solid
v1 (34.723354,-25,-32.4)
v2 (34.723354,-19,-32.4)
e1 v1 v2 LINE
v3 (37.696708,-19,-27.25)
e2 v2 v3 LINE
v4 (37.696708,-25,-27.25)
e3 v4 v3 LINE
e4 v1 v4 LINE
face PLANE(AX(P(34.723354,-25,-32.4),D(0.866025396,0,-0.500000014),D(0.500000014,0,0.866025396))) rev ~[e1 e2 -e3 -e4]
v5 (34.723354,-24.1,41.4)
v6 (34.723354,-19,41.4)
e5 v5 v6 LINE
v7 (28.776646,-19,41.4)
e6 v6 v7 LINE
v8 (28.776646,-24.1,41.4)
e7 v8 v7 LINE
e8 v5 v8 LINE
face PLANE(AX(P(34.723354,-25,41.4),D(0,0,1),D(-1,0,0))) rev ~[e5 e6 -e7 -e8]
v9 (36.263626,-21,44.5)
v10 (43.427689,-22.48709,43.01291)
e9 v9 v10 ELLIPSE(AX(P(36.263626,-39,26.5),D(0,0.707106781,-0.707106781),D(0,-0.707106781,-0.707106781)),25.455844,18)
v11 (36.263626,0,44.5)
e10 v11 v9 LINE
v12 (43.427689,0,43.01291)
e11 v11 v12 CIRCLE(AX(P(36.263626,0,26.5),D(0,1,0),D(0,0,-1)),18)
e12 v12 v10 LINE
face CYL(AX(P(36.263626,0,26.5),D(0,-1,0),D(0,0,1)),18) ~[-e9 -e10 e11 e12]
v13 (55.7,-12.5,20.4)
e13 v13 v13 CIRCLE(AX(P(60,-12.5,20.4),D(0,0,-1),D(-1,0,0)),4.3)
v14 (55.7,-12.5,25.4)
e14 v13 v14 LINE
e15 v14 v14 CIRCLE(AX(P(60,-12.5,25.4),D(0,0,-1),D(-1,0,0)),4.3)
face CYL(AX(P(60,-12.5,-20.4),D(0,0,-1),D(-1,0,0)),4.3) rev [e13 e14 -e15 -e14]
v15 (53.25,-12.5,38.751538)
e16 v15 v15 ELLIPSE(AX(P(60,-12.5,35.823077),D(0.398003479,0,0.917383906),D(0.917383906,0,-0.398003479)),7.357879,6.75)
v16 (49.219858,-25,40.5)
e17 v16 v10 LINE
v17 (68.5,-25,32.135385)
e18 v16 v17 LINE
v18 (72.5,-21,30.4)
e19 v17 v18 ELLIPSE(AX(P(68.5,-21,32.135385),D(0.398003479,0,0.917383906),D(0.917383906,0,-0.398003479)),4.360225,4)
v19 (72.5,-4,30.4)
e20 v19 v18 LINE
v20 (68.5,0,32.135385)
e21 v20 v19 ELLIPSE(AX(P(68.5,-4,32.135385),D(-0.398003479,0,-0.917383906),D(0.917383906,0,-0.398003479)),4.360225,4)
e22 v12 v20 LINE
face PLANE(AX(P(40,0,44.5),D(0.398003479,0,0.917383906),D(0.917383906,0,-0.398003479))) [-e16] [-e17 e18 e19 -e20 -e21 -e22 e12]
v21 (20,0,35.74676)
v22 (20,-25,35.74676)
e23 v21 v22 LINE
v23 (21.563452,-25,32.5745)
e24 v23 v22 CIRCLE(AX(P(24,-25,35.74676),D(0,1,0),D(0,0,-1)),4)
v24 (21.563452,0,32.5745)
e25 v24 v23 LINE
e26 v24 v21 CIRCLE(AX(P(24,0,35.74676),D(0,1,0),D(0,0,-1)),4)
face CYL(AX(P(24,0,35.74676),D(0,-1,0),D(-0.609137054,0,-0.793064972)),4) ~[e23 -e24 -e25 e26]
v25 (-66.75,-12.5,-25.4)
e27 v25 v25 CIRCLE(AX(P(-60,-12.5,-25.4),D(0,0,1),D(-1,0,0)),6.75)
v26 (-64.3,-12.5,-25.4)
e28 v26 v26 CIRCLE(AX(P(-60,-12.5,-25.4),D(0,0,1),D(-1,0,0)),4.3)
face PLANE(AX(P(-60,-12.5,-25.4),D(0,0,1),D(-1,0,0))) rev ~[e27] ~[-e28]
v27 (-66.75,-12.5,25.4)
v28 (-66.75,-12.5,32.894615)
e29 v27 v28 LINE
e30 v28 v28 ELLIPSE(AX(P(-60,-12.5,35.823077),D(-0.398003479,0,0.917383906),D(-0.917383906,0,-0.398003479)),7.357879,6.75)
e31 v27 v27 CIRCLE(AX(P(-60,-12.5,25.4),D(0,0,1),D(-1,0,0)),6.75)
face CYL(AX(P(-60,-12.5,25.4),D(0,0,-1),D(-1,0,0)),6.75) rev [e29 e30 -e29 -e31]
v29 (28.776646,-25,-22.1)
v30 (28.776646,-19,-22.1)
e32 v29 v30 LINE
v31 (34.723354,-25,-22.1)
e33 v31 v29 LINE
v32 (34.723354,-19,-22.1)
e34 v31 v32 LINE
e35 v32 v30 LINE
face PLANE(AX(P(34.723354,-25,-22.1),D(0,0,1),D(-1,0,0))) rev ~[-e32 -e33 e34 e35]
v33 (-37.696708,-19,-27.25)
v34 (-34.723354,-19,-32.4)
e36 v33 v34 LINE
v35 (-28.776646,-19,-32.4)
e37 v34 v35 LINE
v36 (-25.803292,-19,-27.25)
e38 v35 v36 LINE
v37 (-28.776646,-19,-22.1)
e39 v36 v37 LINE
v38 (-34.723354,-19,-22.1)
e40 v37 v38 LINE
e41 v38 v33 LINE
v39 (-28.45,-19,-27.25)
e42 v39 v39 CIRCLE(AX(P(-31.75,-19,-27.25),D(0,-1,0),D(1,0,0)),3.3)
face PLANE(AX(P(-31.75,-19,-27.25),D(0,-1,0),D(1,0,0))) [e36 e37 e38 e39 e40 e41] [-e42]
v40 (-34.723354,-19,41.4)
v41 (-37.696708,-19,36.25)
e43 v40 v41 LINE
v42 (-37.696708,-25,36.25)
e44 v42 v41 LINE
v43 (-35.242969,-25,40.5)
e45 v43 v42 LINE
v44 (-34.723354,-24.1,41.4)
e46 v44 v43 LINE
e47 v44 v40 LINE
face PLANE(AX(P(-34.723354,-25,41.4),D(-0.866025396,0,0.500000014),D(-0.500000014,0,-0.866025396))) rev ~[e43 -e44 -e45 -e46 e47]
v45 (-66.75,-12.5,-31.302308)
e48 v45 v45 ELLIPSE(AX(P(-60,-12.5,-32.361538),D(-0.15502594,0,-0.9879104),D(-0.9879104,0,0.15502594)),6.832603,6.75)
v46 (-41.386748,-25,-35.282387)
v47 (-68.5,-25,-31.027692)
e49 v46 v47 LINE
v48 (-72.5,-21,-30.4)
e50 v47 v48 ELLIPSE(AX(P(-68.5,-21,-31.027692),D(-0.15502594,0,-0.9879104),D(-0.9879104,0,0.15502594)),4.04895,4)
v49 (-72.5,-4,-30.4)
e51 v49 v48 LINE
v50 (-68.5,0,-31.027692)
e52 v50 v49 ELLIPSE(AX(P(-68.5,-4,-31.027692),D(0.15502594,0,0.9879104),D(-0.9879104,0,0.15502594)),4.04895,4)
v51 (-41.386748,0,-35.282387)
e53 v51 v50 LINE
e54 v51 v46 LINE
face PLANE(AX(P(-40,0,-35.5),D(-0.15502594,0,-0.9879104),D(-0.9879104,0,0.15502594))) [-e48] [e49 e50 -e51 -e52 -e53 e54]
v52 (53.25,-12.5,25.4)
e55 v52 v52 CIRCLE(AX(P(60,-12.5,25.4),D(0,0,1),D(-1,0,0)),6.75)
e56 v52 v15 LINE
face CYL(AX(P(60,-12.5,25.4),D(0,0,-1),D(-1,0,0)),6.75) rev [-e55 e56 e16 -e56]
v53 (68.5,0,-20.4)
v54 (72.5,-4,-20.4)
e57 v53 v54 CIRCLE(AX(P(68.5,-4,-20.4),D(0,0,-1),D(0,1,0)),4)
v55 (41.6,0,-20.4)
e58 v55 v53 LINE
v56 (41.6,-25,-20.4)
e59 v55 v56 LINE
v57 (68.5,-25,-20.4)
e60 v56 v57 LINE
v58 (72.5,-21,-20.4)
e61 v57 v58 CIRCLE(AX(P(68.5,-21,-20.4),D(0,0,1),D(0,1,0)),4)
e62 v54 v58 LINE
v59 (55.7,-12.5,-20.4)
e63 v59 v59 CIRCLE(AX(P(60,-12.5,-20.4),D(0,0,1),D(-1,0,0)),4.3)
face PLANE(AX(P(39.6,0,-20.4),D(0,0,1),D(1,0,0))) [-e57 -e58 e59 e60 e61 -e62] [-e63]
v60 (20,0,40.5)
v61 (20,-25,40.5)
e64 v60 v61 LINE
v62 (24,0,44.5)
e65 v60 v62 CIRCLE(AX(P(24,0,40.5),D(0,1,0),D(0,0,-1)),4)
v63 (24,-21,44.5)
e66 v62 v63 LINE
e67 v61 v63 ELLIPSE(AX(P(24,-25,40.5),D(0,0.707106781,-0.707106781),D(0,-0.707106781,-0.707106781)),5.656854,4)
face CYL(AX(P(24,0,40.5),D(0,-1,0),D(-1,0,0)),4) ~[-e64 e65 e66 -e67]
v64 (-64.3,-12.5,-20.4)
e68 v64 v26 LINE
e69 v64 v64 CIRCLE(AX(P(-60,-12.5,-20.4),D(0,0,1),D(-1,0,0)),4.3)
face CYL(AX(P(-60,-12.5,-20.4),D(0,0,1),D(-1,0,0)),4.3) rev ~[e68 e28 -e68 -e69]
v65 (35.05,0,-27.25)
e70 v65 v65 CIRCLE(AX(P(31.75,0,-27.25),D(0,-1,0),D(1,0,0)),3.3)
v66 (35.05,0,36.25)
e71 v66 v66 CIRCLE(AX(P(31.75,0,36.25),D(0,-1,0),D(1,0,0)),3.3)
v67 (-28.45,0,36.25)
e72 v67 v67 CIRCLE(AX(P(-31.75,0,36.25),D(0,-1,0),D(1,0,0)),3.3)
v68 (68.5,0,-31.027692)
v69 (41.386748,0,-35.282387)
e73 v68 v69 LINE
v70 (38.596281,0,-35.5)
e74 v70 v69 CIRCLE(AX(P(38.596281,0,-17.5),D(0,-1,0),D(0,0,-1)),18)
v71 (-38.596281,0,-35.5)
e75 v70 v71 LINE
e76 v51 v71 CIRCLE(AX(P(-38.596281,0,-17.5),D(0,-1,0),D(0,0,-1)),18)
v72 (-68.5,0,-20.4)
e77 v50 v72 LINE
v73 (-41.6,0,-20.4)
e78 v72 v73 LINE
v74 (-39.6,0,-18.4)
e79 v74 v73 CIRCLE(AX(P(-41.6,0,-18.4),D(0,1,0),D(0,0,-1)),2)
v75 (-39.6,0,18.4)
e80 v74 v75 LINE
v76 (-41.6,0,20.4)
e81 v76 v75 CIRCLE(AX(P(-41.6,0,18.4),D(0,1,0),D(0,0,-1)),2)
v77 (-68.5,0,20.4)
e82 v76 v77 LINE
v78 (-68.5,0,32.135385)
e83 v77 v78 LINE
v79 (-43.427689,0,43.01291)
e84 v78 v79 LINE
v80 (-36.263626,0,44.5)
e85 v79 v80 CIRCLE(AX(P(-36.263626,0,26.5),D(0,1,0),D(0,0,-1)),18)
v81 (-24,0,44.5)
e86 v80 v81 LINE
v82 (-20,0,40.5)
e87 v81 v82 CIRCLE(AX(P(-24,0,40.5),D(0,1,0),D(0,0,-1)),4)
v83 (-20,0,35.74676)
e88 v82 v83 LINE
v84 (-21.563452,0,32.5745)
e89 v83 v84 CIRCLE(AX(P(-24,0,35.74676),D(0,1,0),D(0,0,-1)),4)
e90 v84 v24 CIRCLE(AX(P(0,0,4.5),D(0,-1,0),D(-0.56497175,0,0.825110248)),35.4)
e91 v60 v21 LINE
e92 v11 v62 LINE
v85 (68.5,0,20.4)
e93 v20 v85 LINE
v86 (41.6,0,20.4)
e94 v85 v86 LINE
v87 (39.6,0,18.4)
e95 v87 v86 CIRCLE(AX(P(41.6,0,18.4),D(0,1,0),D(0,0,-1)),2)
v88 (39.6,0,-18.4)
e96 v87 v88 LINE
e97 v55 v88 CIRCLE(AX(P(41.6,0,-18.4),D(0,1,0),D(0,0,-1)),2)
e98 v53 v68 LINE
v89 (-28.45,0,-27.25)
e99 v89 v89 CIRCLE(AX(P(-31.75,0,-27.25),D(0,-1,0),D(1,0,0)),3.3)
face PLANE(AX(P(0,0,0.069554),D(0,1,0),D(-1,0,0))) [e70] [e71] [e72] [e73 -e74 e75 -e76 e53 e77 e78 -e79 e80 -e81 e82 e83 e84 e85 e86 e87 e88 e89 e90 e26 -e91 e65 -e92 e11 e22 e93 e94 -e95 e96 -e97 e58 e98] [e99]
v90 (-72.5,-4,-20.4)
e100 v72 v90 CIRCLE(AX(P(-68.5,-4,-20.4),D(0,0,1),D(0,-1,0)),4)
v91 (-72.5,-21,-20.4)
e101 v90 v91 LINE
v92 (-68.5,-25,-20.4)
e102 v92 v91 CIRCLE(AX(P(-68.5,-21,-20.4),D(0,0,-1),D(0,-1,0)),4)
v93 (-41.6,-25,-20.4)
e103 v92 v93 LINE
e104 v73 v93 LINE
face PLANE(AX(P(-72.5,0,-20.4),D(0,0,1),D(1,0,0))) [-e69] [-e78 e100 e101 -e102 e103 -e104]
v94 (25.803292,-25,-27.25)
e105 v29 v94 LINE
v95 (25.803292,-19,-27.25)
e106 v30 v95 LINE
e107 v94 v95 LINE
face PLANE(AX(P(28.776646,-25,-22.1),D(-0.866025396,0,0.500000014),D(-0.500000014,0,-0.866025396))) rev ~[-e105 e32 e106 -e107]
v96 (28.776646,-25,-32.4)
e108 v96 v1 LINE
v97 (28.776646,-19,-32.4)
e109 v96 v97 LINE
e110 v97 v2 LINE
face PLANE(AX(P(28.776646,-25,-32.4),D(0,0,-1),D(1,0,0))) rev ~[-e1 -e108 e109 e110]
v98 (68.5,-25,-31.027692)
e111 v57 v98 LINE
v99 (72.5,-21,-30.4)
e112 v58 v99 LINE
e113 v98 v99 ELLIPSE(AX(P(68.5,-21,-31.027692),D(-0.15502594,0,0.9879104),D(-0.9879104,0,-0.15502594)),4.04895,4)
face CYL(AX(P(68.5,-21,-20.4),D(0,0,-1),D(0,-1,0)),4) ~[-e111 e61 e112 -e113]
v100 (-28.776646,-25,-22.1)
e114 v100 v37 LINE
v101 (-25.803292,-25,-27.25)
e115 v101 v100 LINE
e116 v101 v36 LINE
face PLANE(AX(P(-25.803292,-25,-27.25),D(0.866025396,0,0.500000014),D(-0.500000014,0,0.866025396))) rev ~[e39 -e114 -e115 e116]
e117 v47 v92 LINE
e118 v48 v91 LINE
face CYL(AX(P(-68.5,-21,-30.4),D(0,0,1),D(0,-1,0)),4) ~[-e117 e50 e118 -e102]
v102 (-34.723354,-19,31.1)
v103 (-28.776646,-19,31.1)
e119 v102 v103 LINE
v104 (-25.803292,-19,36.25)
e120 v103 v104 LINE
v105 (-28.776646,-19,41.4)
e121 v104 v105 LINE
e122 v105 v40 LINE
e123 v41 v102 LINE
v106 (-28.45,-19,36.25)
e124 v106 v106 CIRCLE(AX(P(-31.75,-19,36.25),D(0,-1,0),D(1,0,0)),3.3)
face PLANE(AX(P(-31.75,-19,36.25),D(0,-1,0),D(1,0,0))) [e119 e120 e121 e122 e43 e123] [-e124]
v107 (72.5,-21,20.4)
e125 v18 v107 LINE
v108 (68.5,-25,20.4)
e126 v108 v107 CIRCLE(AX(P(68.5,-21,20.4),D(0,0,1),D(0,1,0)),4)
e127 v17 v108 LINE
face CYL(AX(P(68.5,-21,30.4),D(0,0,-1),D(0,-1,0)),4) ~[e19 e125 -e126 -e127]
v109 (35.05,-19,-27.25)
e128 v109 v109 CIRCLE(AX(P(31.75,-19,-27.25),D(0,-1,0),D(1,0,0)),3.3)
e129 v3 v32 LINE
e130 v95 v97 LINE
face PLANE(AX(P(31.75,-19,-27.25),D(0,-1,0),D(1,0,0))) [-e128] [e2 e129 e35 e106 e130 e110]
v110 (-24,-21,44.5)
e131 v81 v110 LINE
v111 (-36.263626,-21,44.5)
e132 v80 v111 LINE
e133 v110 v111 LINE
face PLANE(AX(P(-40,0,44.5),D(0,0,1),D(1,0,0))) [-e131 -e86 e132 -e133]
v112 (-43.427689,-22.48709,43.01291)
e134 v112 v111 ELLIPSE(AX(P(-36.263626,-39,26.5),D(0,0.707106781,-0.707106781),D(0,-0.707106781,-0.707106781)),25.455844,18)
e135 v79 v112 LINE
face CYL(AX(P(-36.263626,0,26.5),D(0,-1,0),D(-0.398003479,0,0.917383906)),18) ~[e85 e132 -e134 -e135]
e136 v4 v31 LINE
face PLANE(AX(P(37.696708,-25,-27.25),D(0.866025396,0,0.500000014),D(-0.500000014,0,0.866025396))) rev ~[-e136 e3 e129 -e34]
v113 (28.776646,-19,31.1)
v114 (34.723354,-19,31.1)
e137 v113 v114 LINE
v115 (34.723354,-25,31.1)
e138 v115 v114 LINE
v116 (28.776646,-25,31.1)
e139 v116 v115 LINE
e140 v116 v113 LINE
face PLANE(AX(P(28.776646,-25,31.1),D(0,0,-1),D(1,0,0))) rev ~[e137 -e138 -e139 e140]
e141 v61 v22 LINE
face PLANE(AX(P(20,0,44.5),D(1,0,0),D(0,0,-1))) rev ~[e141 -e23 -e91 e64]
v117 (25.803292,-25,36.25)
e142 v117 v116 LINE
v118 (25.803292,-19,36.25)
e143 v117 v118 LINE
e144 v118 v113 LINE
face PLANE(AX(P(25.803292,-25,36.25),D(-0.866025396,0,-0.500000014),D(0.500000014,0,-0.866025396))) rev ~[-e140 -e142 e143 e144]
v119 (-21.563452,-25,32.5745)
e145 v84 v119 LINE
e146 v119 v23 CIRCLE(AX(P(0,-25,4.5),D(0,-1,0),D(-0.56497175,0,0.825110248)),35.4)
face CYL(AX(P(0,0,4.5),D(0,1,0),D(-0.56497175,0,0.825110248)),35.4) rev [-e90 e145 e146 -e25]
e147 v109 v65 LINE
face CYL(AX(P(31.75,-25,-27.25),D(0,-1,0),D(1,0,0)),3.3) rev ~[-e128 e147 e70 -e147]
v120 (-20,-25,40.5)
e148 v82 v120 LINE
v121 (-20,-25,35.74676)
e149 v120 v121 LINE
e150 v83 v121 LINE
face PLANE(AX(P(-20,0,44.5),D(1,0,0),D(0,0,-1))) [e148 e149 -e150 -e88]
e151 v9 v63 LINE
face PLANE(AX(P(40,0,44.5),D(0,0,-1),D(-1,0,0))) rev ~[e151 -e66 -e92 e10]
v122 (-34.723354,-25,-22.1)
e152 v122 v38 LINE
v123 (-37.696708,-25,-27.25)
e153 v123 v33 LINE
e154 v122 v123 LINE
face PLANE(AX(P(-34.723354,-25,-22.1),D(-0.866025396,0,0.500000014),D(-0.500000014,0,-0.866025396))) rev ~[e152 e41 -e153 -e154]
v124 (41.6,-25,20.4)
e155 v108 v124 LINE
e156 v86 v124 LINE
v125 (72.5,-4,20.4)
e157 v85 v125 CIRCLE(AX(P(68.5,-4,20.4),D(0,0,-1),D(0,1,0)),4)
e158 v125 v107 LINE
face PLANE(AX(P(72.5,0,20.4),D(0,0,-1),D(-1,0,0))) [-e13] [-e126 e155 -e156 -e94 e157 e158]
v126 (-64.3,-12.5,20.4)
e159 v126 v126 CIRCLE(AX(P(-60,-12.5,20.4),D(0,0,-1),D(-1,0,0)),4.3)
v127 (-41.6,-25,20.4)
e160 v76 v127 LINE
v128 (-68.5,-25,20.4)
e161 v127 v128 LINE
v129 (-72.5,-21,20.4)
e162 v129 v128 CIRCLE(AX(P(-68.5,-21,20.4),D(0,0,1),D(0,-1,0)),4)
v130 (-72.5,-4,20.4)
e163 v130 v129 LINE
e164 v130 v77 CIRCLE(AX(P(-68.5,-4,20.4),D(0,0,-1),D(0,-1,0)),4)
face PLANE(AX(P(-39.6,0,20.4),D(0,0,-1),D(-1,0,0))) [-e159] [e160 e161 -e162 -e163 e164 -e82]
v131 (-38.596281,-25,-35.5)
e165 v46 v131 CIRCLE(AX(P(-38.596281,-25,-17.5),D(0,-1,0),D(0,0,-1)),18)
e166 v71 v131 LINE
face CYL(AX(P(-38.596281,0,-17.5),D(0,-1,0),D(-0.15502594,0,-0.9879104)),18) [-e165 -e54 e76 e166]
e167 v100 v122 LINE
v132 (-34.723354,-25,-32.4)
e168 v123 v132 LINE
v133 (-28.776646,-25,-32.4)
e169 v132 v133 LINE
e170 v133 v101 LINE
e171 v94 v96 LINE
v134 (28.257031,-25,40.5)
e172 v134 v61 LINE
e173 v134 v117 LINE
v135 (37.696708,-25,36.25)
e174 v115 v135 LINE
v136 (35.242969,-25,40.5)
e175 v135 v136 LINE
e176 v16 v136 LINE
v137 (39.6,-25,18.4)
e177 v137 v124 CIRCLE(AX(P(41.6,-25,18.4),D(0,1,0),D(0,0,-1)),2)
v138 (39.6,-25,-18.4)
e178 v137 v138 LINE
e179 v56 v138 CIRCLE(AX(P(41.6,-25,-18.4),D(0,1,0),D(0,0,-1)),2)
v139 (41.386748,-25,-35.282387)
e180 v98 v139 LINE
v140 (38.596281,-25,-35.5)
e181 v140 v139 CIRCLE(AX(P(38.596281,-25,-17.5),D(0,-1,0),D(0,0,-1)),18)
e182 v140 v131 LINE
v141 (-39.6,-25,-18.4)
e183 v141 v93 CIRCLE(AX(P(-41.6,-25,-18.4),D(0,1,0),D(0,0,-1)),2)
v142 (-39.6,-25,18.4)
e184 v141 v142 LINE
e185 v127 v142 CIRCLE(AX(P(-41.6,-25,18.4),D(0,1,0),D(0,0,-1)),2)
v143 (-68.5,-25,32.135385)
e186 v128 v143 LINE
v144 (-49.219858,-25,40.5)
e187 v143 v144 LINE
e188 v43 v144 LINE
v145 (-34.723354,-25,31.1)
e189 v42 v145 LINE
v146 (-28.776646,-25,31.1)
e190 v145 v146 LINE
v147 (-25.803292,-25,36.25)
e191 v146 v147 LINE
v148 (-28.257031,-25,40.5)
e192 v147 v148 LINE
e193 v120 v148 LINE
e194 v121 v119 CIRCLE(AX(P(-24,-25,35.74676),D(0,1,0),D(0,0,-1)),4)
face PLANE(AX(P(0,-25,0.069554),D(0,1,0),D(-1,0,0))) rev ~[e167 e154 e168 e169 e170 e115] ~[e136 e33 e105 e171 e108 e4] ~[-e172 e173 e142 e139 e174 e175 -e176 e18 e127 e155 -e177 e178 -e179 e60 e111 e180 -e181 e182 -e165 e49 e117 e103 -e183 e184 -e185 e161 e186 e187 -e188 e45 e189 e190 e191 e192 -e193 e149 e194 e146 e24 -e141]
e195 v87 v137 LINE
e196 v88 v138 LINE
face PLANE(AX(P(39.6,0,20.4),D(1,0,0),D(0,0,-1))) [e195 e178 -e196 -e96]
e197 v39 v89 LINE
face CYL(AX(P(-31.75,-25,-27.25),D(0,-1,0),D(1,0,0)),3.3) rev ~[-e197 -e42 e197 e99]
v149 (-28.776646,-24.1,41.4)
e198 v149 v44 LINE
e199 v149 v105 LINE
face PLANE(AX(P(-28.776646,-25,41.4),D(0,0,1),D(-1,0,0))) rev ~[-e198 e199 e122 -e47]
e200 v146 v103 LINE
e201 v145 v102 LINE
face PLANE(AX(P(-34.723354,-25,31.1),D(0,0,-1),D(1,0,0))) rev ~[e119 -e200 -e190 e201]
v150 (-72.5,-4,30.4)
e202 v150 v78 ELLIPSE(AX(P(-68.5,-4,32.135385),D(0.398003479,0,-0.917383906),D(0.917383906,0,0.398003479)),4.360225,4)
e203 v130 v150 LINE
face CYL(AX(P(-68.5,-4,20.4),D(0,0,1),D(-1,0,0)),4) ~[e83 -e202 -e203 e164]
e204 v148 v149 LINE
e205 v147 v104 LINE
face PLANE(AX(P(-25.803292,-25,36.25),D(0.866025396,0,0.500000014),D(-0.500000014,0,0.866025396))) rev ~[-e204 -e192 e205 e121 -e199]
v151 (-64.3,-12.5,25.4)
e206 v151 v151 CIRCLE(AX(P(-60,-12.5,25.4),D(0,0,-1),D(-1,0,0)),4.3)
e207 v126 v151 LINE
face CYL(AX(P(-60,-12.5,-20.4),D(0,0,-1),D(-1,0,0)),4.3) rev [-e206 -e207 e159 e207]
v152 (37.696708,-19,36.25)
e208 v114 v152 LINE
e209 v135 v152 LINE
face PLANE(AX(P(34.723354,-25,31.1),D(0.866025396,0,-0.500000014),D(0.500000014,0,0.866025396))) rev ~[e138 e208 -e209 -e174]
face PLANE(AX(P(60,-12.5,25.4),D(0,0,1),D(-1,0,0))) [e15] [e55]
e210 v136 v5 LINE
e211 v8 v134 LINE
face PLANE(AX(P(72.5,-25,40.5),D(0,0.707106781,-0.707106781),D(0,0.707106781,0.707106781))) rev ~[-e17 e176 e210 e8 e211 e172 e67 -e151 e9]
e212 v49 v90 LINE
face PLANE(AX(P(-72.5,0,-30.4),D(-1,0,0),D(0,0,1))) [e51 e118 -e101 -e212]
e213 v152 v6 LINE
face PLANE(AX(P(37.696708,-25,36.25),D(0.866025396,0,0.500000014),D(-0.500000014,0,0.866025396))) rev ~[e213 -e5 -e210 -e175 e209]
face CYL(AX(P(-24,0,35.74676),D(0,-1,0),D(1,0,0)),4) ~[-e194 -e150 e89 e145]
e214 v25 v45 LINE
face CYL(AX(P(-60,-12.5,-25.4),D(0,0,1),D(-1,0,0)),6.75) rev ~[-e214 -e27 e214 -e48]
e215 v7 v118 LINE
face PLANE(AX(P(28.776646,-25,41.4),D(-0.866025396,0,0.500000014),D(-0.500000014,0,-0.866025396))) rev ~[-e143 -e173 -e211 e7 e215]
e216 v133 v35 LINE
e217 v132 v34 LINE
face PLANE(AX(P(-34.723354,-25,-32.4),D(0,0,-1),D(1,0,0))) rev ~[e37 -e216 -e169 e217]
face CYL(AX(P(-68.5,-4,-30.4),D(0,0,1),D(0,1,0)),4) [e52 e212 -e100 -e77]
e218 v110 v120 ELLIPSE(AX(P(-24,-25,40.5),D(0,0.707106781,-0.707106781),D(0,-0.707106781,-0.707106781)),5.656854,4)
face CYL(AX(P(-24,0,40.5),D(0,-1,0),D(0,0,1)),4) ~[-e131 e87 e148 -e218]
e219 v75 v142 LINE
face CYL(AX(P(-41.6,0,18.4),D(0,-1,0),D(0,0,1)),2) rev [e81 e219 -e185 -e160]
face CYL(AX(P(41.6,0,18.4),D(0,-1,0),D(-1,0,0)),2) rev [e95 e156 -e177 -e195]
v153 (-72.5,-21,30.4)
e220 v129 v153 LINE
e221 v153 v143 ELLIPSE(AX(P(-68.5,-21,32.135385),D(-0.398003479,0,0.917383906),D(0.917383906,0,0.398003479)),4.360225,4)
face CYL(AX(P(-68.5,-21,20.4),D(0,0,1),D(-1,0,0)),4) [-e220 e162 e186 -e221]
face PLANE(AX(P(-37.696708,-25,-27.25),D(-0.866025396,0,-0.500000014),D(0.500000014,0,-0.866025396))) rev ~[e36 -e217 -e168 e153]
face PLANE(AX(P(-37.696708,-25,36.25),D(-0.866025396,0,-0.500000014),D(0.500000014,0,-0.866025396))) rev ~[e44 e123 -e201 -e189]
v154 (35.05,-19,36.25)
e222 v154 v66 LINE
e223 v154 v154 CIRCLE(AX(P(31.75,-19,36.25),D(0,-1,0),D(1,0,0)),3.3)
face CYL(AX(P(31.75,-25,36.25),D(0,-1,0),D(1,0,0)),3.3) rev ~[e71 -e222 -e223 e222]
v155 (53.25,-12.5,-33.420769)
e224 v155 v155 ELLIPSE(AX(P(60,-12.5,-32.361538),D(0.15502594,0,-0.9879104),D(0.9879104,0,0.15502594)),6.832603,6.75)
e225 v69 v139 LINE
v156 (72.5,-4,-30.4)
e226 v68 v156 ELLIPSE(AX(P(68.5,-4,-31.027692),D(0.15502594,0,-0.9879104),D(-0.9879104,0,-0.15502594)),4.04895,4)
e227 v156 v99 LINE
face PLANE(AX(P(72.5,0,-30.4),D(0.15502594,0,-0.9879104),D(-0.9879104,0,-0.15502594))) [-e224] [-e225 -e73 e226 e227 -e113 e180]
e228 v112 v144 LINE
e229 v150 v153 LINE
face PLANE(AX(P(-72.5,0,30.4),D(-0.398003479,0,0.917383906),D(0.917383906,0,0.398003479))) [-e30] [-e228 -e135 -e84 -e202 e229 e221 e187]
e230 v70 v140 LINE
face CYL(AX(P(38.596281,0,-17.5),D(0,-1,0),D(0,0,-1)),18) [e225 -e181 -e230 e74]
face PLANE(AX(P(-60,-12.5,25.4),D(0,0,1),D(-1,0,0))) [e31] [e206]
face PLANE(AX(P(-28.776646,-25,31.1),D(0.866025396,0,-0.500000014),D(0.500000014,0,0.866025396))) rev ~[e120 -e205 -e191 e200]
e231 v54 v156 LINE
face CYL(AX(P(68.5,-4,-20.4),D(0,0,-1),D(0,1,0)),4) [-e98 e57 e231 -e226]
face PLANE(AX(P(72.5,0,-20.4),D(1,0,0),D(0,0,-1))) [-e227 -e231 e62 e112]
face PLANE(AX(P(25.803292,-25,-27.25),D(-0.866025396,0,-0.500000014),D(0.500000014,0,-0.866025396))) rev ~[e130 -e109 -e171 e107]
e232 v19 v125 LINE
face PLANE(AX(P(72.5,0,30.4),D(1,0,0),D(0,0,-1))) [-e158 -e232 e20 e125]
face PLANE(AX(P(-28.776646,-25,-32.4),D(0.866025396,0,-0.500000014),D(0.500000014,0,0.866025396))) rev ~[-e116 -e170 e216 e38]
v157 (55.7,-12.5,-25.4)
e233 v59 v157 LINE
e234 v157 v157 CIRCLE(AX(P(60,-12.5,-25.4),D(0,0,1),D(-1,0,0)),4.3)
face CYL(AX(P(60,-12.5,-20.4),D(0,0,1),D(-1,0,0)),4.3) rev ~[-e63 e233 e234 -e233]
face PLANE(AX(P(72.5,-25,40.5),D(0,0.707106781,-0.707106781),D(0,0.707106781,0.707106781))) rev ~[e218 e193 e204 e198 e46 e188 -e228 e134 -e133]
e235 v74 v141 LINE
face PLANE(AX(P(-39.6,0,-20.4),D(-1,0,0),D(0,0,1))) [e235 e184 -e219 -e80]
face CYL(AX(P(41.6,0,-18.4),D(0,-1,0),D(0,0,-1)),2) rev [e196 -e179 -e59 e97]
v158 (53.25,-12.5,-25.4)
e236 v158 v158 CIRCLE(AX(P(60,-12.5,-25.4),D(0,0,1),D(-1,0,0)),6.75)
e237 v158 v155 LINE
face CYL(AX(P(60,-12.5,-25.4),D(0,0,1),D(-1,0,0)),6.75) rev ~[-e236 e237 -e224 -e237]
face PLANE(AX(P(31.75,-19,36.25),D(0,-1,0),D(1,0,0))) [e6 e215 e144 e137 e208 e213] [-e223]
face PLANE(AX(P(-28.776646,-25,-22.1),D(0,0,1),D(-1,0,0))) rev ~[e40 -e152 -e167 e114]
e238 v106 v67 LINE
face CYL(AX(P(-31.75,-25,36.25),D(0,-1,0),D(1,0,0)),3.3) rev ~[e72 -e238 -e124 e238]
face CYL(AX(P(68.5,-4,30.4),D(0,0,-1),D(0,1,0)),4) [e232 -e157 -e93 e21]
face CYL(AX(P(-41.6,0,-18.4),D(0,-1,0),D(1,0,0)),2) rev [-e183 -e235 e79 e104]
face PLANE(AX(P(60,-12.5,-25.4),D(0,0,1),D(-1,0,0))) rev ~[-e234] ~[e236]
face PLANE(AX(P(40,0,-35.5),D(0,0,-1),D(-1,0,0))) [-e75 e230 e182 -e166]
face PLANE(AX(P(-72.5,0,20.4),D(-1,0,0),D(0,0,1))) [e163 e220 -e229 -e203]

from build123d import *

# Parameters (mm, degrees)
PAD_DEPTH         = 25
SKETCH001_R       = 4.3
POCKET_DEPTH      = 100
POCKET_DEPTH_BACK = -100
SKETCH002_R       = 6.75
POCKET001_DEPTH   = 10.101
SKETCH003_R       = 6.75
POCKET002_DEPTH   = 19.101
SKETCH004_R       = 3.3
POCKET003_DEPTH   = 25.001
POCKET004_DEPTH   = 6
FILLET_R          = 4
FILLET001_R       = 2
FILLET002_R       = 18
FILLET003_R       = 4
POCKET005_DEPTH   = 145.001


with BuildPart() as part:
    # Sketch → Pad (new body)
    with BuildSketch(Plane.XZ):
        with BuildLine():
            Line((-72.5, 20.4), (-72.5, 30.4))
            Line((-72.5, 30.4), (-40, 44.5))
            Line((-40, 44.5), (-20, 44.5))
            Line((-20, 44.5), (-20, 33.708903))
            ThreePointArc((-20, 33.708903), (0, -30.9), (20, 33.708903))
            Line((20, 44.5), (20, 33.708903))
            Line((40, 44.5), (20, 44.5))
            Line((40, 44.5), (72.5, 30.4))
            Line((72.5, 30.4), (72.5, 20.4))
            Line((72.5, 20.4), (39.6, 20.4))
            Line((39.6, 20.4), (39.6, -20.4))
            Line((39.6, -20.4), (72.5, -20.4))
            Line((72.5, -20.4), (72.5, -30.4))
            Line((72.5, -30.4), (40, -35.5))
            Line((40, -35.5), (-40, -35.5))
            Line((-40, -35.5), (-72.5, -30.4))
            Line((-72.5, -30.4), (-72.5, -20.4))
            Line((-72.5, -20.4), (-39.6, -20.4))
            Line((-39.6, -20.4), (-39.6, 20.4))
            Line((-39.6, 20.4), (-72.5, 20.4))
        make_face()
    extrude(amount=PAD_DEPTH)

    # Sketch001 (on Face11 of Pad) → Pocket (cut, two sides)
    with BuildSketch(Plane(origin=(0, 0, -20.4), x_dir=(-1, 0, 0), z_dir=(0, 0, 1))) as pocket_sk:
        with Locations((-60, 12.5)):
            Circle(SKETCH001_R)
        with Locations((60, 12.5)):
            Circle(SKETCH001_R)
    extrude(amount=-POCKET_DEPTH, mode=Mode.SUBTRACT)
    extrude(pocket_sk.sketch, amount=-POCKET_DEPTH_BACK, mode=Mode.SUBTRACT)

    # Sketch002 (on Face16 of Pocket) → Pocket001 (cut, through all)
    with BuildSketch(Plane(origin=(0, 0, -25.4), x_dir=(-1, 0, 0), z_dir=(0, 0, 1))):
        with Locations((-60, 12.5)):
            Circle(SKETCH002_R)
        with Locations((60, 12.5)):
            Circle(SKETCH002_R)
    extrude(amount=-POCKET001_DEPTH, mode=Mode.SUBTRACT)

    # Sketch003 (on Face16 of Pocket001) → Pocket002 (cut, through all)
    with BuildSketch(Plane(origin=(0, 0, 25.4), x_dir=(-1, 0, 0), z_dir=(0, 0, 1))):
        with Locations((-60, 12.5)):
            Circle(SKETCH003_R)
        with Locations((60, 12.5)):
            Circle(SKETCH003_R)
    extrude(amount=POCKET002_DEPTH, mode=Mode.SUBTRACT)

    # Sketch004 (on Face4 of Pocket002) → Pocket003 (cut, through all)
    with BuildSketch(Plane.XZ.offset(25)):
        with Locations((-31.75, 36.25)):
            Circle(SKETCH004_R)
        with Locations((31.75, 36.25)):
            Circle(SKETCH004_R)
        with Locations((31.75, -27.25)):
            Circle(SKETCH004_R)
        with Locations((-31.75, -27.25)):
            Circle(SKETCH004_R)
    extrude(amount=-POCKET003_DEPTH, mode=Mode.SUBTRACT)

    # Sketch005 (on Face4 of Pocket003) → Pocket004 (cut)
    with BuildSketch(Plane.XZ.offset(25)):
        Polygon((-25.803292, 36.25), (-28.776646, 41.4), (-34.723354, 41.4), (-37.696708, 36.25), (-34.723354, 31.1), (-28.776646, 31.1), align=None)
        Polygon((34.723354, 31.1), (37.696708, 36.25), (34.723354, 41.4), (28.776646, 41.4), (25.803292, 36.25), (28.776646, 31.1), align=None)
        Polygon((28.776646, -32.4), (34.723354, -32.4), (37.696708, -27.25), (34.723354, -22.1), (28.776646, -22.1), (25.803292, -27.25), align=None)
        Polygon((-28.776646, -32.4), (-25.803292, -27.25), (-28.776646, -22.1), (-34.723354, -22.1), (-37.696708, -27.25), (-34.723354, -32.4), align=None)
    extrude(amount=-POCKET004_DEPTH, mode=Mode.SUBTRACT)

    # Fillet
    fillet_edges = [part.edges().sort_by_distance(p)[0] for p in [
        (72.5, -25, 25.4),
        (72.5, 0, 25.4),
        (72.5, -25, -25.4),
        (72.5, 0, -25.4),
        (-72.5, -25, 25.4),
        (-72.5, -25, -25.4),
        (-72.5, 0, 25.4),
        (-72.5, 0, -25.4),
    ]]
    fillet(fillet_edges, radius=FILLET_R)

    # Fillet001
    fillet001_edges = [part.edges().sort_by_distance(p)[0] for p in [
        (-39.6, -12.5, -20.4),
        (-39.6, -12.5, 20.4),
        (39.6, -12.5, -20.4),
        (39.6, -12.5, 20.4),
    ]]
    fillet(fillet001_edges, radius=FILLET001_R)

    # Fillet002
    fillet002_edges = [part.edges().sort_by_distance(p)[0] for p in [
        (40, -12.5, 44.5),
        (-40, -12.5, 44.5),
        (40, -12.5, -35.5),
        (-40, -12.5, -35.5),
    ]]
    fillet(fillet002_edges, radius=FILLET002_R)

    # Fillet003
    fillet003_edges = [part.edges().sort_by_distance(p)[0] for p in [
        (-20, -12.5, 44.5),
        (-20, -12.5, 33.708903),
        (20, -12.5, 44.5),
        (20, -12.5, 33.708903),
    ]]
    fillet(fillet003_edges, radius=FILLET003_R)

    # Sketch006 (on Face39 of Fillet003) → Pocket005 (cut, through all)
    with BuildSketch(Plane(origin=(72.5, 0, 0), x_dir=(0, 0, 1), z_dir=(1, 0, 0))):
        Polygon((40.5, 25), (44.5, 21), (44.5, 25), align=None)
    extrude(amount=-POCKET005_DEPTH, mode=Mode.SUBTRACT)


solid = part.part
